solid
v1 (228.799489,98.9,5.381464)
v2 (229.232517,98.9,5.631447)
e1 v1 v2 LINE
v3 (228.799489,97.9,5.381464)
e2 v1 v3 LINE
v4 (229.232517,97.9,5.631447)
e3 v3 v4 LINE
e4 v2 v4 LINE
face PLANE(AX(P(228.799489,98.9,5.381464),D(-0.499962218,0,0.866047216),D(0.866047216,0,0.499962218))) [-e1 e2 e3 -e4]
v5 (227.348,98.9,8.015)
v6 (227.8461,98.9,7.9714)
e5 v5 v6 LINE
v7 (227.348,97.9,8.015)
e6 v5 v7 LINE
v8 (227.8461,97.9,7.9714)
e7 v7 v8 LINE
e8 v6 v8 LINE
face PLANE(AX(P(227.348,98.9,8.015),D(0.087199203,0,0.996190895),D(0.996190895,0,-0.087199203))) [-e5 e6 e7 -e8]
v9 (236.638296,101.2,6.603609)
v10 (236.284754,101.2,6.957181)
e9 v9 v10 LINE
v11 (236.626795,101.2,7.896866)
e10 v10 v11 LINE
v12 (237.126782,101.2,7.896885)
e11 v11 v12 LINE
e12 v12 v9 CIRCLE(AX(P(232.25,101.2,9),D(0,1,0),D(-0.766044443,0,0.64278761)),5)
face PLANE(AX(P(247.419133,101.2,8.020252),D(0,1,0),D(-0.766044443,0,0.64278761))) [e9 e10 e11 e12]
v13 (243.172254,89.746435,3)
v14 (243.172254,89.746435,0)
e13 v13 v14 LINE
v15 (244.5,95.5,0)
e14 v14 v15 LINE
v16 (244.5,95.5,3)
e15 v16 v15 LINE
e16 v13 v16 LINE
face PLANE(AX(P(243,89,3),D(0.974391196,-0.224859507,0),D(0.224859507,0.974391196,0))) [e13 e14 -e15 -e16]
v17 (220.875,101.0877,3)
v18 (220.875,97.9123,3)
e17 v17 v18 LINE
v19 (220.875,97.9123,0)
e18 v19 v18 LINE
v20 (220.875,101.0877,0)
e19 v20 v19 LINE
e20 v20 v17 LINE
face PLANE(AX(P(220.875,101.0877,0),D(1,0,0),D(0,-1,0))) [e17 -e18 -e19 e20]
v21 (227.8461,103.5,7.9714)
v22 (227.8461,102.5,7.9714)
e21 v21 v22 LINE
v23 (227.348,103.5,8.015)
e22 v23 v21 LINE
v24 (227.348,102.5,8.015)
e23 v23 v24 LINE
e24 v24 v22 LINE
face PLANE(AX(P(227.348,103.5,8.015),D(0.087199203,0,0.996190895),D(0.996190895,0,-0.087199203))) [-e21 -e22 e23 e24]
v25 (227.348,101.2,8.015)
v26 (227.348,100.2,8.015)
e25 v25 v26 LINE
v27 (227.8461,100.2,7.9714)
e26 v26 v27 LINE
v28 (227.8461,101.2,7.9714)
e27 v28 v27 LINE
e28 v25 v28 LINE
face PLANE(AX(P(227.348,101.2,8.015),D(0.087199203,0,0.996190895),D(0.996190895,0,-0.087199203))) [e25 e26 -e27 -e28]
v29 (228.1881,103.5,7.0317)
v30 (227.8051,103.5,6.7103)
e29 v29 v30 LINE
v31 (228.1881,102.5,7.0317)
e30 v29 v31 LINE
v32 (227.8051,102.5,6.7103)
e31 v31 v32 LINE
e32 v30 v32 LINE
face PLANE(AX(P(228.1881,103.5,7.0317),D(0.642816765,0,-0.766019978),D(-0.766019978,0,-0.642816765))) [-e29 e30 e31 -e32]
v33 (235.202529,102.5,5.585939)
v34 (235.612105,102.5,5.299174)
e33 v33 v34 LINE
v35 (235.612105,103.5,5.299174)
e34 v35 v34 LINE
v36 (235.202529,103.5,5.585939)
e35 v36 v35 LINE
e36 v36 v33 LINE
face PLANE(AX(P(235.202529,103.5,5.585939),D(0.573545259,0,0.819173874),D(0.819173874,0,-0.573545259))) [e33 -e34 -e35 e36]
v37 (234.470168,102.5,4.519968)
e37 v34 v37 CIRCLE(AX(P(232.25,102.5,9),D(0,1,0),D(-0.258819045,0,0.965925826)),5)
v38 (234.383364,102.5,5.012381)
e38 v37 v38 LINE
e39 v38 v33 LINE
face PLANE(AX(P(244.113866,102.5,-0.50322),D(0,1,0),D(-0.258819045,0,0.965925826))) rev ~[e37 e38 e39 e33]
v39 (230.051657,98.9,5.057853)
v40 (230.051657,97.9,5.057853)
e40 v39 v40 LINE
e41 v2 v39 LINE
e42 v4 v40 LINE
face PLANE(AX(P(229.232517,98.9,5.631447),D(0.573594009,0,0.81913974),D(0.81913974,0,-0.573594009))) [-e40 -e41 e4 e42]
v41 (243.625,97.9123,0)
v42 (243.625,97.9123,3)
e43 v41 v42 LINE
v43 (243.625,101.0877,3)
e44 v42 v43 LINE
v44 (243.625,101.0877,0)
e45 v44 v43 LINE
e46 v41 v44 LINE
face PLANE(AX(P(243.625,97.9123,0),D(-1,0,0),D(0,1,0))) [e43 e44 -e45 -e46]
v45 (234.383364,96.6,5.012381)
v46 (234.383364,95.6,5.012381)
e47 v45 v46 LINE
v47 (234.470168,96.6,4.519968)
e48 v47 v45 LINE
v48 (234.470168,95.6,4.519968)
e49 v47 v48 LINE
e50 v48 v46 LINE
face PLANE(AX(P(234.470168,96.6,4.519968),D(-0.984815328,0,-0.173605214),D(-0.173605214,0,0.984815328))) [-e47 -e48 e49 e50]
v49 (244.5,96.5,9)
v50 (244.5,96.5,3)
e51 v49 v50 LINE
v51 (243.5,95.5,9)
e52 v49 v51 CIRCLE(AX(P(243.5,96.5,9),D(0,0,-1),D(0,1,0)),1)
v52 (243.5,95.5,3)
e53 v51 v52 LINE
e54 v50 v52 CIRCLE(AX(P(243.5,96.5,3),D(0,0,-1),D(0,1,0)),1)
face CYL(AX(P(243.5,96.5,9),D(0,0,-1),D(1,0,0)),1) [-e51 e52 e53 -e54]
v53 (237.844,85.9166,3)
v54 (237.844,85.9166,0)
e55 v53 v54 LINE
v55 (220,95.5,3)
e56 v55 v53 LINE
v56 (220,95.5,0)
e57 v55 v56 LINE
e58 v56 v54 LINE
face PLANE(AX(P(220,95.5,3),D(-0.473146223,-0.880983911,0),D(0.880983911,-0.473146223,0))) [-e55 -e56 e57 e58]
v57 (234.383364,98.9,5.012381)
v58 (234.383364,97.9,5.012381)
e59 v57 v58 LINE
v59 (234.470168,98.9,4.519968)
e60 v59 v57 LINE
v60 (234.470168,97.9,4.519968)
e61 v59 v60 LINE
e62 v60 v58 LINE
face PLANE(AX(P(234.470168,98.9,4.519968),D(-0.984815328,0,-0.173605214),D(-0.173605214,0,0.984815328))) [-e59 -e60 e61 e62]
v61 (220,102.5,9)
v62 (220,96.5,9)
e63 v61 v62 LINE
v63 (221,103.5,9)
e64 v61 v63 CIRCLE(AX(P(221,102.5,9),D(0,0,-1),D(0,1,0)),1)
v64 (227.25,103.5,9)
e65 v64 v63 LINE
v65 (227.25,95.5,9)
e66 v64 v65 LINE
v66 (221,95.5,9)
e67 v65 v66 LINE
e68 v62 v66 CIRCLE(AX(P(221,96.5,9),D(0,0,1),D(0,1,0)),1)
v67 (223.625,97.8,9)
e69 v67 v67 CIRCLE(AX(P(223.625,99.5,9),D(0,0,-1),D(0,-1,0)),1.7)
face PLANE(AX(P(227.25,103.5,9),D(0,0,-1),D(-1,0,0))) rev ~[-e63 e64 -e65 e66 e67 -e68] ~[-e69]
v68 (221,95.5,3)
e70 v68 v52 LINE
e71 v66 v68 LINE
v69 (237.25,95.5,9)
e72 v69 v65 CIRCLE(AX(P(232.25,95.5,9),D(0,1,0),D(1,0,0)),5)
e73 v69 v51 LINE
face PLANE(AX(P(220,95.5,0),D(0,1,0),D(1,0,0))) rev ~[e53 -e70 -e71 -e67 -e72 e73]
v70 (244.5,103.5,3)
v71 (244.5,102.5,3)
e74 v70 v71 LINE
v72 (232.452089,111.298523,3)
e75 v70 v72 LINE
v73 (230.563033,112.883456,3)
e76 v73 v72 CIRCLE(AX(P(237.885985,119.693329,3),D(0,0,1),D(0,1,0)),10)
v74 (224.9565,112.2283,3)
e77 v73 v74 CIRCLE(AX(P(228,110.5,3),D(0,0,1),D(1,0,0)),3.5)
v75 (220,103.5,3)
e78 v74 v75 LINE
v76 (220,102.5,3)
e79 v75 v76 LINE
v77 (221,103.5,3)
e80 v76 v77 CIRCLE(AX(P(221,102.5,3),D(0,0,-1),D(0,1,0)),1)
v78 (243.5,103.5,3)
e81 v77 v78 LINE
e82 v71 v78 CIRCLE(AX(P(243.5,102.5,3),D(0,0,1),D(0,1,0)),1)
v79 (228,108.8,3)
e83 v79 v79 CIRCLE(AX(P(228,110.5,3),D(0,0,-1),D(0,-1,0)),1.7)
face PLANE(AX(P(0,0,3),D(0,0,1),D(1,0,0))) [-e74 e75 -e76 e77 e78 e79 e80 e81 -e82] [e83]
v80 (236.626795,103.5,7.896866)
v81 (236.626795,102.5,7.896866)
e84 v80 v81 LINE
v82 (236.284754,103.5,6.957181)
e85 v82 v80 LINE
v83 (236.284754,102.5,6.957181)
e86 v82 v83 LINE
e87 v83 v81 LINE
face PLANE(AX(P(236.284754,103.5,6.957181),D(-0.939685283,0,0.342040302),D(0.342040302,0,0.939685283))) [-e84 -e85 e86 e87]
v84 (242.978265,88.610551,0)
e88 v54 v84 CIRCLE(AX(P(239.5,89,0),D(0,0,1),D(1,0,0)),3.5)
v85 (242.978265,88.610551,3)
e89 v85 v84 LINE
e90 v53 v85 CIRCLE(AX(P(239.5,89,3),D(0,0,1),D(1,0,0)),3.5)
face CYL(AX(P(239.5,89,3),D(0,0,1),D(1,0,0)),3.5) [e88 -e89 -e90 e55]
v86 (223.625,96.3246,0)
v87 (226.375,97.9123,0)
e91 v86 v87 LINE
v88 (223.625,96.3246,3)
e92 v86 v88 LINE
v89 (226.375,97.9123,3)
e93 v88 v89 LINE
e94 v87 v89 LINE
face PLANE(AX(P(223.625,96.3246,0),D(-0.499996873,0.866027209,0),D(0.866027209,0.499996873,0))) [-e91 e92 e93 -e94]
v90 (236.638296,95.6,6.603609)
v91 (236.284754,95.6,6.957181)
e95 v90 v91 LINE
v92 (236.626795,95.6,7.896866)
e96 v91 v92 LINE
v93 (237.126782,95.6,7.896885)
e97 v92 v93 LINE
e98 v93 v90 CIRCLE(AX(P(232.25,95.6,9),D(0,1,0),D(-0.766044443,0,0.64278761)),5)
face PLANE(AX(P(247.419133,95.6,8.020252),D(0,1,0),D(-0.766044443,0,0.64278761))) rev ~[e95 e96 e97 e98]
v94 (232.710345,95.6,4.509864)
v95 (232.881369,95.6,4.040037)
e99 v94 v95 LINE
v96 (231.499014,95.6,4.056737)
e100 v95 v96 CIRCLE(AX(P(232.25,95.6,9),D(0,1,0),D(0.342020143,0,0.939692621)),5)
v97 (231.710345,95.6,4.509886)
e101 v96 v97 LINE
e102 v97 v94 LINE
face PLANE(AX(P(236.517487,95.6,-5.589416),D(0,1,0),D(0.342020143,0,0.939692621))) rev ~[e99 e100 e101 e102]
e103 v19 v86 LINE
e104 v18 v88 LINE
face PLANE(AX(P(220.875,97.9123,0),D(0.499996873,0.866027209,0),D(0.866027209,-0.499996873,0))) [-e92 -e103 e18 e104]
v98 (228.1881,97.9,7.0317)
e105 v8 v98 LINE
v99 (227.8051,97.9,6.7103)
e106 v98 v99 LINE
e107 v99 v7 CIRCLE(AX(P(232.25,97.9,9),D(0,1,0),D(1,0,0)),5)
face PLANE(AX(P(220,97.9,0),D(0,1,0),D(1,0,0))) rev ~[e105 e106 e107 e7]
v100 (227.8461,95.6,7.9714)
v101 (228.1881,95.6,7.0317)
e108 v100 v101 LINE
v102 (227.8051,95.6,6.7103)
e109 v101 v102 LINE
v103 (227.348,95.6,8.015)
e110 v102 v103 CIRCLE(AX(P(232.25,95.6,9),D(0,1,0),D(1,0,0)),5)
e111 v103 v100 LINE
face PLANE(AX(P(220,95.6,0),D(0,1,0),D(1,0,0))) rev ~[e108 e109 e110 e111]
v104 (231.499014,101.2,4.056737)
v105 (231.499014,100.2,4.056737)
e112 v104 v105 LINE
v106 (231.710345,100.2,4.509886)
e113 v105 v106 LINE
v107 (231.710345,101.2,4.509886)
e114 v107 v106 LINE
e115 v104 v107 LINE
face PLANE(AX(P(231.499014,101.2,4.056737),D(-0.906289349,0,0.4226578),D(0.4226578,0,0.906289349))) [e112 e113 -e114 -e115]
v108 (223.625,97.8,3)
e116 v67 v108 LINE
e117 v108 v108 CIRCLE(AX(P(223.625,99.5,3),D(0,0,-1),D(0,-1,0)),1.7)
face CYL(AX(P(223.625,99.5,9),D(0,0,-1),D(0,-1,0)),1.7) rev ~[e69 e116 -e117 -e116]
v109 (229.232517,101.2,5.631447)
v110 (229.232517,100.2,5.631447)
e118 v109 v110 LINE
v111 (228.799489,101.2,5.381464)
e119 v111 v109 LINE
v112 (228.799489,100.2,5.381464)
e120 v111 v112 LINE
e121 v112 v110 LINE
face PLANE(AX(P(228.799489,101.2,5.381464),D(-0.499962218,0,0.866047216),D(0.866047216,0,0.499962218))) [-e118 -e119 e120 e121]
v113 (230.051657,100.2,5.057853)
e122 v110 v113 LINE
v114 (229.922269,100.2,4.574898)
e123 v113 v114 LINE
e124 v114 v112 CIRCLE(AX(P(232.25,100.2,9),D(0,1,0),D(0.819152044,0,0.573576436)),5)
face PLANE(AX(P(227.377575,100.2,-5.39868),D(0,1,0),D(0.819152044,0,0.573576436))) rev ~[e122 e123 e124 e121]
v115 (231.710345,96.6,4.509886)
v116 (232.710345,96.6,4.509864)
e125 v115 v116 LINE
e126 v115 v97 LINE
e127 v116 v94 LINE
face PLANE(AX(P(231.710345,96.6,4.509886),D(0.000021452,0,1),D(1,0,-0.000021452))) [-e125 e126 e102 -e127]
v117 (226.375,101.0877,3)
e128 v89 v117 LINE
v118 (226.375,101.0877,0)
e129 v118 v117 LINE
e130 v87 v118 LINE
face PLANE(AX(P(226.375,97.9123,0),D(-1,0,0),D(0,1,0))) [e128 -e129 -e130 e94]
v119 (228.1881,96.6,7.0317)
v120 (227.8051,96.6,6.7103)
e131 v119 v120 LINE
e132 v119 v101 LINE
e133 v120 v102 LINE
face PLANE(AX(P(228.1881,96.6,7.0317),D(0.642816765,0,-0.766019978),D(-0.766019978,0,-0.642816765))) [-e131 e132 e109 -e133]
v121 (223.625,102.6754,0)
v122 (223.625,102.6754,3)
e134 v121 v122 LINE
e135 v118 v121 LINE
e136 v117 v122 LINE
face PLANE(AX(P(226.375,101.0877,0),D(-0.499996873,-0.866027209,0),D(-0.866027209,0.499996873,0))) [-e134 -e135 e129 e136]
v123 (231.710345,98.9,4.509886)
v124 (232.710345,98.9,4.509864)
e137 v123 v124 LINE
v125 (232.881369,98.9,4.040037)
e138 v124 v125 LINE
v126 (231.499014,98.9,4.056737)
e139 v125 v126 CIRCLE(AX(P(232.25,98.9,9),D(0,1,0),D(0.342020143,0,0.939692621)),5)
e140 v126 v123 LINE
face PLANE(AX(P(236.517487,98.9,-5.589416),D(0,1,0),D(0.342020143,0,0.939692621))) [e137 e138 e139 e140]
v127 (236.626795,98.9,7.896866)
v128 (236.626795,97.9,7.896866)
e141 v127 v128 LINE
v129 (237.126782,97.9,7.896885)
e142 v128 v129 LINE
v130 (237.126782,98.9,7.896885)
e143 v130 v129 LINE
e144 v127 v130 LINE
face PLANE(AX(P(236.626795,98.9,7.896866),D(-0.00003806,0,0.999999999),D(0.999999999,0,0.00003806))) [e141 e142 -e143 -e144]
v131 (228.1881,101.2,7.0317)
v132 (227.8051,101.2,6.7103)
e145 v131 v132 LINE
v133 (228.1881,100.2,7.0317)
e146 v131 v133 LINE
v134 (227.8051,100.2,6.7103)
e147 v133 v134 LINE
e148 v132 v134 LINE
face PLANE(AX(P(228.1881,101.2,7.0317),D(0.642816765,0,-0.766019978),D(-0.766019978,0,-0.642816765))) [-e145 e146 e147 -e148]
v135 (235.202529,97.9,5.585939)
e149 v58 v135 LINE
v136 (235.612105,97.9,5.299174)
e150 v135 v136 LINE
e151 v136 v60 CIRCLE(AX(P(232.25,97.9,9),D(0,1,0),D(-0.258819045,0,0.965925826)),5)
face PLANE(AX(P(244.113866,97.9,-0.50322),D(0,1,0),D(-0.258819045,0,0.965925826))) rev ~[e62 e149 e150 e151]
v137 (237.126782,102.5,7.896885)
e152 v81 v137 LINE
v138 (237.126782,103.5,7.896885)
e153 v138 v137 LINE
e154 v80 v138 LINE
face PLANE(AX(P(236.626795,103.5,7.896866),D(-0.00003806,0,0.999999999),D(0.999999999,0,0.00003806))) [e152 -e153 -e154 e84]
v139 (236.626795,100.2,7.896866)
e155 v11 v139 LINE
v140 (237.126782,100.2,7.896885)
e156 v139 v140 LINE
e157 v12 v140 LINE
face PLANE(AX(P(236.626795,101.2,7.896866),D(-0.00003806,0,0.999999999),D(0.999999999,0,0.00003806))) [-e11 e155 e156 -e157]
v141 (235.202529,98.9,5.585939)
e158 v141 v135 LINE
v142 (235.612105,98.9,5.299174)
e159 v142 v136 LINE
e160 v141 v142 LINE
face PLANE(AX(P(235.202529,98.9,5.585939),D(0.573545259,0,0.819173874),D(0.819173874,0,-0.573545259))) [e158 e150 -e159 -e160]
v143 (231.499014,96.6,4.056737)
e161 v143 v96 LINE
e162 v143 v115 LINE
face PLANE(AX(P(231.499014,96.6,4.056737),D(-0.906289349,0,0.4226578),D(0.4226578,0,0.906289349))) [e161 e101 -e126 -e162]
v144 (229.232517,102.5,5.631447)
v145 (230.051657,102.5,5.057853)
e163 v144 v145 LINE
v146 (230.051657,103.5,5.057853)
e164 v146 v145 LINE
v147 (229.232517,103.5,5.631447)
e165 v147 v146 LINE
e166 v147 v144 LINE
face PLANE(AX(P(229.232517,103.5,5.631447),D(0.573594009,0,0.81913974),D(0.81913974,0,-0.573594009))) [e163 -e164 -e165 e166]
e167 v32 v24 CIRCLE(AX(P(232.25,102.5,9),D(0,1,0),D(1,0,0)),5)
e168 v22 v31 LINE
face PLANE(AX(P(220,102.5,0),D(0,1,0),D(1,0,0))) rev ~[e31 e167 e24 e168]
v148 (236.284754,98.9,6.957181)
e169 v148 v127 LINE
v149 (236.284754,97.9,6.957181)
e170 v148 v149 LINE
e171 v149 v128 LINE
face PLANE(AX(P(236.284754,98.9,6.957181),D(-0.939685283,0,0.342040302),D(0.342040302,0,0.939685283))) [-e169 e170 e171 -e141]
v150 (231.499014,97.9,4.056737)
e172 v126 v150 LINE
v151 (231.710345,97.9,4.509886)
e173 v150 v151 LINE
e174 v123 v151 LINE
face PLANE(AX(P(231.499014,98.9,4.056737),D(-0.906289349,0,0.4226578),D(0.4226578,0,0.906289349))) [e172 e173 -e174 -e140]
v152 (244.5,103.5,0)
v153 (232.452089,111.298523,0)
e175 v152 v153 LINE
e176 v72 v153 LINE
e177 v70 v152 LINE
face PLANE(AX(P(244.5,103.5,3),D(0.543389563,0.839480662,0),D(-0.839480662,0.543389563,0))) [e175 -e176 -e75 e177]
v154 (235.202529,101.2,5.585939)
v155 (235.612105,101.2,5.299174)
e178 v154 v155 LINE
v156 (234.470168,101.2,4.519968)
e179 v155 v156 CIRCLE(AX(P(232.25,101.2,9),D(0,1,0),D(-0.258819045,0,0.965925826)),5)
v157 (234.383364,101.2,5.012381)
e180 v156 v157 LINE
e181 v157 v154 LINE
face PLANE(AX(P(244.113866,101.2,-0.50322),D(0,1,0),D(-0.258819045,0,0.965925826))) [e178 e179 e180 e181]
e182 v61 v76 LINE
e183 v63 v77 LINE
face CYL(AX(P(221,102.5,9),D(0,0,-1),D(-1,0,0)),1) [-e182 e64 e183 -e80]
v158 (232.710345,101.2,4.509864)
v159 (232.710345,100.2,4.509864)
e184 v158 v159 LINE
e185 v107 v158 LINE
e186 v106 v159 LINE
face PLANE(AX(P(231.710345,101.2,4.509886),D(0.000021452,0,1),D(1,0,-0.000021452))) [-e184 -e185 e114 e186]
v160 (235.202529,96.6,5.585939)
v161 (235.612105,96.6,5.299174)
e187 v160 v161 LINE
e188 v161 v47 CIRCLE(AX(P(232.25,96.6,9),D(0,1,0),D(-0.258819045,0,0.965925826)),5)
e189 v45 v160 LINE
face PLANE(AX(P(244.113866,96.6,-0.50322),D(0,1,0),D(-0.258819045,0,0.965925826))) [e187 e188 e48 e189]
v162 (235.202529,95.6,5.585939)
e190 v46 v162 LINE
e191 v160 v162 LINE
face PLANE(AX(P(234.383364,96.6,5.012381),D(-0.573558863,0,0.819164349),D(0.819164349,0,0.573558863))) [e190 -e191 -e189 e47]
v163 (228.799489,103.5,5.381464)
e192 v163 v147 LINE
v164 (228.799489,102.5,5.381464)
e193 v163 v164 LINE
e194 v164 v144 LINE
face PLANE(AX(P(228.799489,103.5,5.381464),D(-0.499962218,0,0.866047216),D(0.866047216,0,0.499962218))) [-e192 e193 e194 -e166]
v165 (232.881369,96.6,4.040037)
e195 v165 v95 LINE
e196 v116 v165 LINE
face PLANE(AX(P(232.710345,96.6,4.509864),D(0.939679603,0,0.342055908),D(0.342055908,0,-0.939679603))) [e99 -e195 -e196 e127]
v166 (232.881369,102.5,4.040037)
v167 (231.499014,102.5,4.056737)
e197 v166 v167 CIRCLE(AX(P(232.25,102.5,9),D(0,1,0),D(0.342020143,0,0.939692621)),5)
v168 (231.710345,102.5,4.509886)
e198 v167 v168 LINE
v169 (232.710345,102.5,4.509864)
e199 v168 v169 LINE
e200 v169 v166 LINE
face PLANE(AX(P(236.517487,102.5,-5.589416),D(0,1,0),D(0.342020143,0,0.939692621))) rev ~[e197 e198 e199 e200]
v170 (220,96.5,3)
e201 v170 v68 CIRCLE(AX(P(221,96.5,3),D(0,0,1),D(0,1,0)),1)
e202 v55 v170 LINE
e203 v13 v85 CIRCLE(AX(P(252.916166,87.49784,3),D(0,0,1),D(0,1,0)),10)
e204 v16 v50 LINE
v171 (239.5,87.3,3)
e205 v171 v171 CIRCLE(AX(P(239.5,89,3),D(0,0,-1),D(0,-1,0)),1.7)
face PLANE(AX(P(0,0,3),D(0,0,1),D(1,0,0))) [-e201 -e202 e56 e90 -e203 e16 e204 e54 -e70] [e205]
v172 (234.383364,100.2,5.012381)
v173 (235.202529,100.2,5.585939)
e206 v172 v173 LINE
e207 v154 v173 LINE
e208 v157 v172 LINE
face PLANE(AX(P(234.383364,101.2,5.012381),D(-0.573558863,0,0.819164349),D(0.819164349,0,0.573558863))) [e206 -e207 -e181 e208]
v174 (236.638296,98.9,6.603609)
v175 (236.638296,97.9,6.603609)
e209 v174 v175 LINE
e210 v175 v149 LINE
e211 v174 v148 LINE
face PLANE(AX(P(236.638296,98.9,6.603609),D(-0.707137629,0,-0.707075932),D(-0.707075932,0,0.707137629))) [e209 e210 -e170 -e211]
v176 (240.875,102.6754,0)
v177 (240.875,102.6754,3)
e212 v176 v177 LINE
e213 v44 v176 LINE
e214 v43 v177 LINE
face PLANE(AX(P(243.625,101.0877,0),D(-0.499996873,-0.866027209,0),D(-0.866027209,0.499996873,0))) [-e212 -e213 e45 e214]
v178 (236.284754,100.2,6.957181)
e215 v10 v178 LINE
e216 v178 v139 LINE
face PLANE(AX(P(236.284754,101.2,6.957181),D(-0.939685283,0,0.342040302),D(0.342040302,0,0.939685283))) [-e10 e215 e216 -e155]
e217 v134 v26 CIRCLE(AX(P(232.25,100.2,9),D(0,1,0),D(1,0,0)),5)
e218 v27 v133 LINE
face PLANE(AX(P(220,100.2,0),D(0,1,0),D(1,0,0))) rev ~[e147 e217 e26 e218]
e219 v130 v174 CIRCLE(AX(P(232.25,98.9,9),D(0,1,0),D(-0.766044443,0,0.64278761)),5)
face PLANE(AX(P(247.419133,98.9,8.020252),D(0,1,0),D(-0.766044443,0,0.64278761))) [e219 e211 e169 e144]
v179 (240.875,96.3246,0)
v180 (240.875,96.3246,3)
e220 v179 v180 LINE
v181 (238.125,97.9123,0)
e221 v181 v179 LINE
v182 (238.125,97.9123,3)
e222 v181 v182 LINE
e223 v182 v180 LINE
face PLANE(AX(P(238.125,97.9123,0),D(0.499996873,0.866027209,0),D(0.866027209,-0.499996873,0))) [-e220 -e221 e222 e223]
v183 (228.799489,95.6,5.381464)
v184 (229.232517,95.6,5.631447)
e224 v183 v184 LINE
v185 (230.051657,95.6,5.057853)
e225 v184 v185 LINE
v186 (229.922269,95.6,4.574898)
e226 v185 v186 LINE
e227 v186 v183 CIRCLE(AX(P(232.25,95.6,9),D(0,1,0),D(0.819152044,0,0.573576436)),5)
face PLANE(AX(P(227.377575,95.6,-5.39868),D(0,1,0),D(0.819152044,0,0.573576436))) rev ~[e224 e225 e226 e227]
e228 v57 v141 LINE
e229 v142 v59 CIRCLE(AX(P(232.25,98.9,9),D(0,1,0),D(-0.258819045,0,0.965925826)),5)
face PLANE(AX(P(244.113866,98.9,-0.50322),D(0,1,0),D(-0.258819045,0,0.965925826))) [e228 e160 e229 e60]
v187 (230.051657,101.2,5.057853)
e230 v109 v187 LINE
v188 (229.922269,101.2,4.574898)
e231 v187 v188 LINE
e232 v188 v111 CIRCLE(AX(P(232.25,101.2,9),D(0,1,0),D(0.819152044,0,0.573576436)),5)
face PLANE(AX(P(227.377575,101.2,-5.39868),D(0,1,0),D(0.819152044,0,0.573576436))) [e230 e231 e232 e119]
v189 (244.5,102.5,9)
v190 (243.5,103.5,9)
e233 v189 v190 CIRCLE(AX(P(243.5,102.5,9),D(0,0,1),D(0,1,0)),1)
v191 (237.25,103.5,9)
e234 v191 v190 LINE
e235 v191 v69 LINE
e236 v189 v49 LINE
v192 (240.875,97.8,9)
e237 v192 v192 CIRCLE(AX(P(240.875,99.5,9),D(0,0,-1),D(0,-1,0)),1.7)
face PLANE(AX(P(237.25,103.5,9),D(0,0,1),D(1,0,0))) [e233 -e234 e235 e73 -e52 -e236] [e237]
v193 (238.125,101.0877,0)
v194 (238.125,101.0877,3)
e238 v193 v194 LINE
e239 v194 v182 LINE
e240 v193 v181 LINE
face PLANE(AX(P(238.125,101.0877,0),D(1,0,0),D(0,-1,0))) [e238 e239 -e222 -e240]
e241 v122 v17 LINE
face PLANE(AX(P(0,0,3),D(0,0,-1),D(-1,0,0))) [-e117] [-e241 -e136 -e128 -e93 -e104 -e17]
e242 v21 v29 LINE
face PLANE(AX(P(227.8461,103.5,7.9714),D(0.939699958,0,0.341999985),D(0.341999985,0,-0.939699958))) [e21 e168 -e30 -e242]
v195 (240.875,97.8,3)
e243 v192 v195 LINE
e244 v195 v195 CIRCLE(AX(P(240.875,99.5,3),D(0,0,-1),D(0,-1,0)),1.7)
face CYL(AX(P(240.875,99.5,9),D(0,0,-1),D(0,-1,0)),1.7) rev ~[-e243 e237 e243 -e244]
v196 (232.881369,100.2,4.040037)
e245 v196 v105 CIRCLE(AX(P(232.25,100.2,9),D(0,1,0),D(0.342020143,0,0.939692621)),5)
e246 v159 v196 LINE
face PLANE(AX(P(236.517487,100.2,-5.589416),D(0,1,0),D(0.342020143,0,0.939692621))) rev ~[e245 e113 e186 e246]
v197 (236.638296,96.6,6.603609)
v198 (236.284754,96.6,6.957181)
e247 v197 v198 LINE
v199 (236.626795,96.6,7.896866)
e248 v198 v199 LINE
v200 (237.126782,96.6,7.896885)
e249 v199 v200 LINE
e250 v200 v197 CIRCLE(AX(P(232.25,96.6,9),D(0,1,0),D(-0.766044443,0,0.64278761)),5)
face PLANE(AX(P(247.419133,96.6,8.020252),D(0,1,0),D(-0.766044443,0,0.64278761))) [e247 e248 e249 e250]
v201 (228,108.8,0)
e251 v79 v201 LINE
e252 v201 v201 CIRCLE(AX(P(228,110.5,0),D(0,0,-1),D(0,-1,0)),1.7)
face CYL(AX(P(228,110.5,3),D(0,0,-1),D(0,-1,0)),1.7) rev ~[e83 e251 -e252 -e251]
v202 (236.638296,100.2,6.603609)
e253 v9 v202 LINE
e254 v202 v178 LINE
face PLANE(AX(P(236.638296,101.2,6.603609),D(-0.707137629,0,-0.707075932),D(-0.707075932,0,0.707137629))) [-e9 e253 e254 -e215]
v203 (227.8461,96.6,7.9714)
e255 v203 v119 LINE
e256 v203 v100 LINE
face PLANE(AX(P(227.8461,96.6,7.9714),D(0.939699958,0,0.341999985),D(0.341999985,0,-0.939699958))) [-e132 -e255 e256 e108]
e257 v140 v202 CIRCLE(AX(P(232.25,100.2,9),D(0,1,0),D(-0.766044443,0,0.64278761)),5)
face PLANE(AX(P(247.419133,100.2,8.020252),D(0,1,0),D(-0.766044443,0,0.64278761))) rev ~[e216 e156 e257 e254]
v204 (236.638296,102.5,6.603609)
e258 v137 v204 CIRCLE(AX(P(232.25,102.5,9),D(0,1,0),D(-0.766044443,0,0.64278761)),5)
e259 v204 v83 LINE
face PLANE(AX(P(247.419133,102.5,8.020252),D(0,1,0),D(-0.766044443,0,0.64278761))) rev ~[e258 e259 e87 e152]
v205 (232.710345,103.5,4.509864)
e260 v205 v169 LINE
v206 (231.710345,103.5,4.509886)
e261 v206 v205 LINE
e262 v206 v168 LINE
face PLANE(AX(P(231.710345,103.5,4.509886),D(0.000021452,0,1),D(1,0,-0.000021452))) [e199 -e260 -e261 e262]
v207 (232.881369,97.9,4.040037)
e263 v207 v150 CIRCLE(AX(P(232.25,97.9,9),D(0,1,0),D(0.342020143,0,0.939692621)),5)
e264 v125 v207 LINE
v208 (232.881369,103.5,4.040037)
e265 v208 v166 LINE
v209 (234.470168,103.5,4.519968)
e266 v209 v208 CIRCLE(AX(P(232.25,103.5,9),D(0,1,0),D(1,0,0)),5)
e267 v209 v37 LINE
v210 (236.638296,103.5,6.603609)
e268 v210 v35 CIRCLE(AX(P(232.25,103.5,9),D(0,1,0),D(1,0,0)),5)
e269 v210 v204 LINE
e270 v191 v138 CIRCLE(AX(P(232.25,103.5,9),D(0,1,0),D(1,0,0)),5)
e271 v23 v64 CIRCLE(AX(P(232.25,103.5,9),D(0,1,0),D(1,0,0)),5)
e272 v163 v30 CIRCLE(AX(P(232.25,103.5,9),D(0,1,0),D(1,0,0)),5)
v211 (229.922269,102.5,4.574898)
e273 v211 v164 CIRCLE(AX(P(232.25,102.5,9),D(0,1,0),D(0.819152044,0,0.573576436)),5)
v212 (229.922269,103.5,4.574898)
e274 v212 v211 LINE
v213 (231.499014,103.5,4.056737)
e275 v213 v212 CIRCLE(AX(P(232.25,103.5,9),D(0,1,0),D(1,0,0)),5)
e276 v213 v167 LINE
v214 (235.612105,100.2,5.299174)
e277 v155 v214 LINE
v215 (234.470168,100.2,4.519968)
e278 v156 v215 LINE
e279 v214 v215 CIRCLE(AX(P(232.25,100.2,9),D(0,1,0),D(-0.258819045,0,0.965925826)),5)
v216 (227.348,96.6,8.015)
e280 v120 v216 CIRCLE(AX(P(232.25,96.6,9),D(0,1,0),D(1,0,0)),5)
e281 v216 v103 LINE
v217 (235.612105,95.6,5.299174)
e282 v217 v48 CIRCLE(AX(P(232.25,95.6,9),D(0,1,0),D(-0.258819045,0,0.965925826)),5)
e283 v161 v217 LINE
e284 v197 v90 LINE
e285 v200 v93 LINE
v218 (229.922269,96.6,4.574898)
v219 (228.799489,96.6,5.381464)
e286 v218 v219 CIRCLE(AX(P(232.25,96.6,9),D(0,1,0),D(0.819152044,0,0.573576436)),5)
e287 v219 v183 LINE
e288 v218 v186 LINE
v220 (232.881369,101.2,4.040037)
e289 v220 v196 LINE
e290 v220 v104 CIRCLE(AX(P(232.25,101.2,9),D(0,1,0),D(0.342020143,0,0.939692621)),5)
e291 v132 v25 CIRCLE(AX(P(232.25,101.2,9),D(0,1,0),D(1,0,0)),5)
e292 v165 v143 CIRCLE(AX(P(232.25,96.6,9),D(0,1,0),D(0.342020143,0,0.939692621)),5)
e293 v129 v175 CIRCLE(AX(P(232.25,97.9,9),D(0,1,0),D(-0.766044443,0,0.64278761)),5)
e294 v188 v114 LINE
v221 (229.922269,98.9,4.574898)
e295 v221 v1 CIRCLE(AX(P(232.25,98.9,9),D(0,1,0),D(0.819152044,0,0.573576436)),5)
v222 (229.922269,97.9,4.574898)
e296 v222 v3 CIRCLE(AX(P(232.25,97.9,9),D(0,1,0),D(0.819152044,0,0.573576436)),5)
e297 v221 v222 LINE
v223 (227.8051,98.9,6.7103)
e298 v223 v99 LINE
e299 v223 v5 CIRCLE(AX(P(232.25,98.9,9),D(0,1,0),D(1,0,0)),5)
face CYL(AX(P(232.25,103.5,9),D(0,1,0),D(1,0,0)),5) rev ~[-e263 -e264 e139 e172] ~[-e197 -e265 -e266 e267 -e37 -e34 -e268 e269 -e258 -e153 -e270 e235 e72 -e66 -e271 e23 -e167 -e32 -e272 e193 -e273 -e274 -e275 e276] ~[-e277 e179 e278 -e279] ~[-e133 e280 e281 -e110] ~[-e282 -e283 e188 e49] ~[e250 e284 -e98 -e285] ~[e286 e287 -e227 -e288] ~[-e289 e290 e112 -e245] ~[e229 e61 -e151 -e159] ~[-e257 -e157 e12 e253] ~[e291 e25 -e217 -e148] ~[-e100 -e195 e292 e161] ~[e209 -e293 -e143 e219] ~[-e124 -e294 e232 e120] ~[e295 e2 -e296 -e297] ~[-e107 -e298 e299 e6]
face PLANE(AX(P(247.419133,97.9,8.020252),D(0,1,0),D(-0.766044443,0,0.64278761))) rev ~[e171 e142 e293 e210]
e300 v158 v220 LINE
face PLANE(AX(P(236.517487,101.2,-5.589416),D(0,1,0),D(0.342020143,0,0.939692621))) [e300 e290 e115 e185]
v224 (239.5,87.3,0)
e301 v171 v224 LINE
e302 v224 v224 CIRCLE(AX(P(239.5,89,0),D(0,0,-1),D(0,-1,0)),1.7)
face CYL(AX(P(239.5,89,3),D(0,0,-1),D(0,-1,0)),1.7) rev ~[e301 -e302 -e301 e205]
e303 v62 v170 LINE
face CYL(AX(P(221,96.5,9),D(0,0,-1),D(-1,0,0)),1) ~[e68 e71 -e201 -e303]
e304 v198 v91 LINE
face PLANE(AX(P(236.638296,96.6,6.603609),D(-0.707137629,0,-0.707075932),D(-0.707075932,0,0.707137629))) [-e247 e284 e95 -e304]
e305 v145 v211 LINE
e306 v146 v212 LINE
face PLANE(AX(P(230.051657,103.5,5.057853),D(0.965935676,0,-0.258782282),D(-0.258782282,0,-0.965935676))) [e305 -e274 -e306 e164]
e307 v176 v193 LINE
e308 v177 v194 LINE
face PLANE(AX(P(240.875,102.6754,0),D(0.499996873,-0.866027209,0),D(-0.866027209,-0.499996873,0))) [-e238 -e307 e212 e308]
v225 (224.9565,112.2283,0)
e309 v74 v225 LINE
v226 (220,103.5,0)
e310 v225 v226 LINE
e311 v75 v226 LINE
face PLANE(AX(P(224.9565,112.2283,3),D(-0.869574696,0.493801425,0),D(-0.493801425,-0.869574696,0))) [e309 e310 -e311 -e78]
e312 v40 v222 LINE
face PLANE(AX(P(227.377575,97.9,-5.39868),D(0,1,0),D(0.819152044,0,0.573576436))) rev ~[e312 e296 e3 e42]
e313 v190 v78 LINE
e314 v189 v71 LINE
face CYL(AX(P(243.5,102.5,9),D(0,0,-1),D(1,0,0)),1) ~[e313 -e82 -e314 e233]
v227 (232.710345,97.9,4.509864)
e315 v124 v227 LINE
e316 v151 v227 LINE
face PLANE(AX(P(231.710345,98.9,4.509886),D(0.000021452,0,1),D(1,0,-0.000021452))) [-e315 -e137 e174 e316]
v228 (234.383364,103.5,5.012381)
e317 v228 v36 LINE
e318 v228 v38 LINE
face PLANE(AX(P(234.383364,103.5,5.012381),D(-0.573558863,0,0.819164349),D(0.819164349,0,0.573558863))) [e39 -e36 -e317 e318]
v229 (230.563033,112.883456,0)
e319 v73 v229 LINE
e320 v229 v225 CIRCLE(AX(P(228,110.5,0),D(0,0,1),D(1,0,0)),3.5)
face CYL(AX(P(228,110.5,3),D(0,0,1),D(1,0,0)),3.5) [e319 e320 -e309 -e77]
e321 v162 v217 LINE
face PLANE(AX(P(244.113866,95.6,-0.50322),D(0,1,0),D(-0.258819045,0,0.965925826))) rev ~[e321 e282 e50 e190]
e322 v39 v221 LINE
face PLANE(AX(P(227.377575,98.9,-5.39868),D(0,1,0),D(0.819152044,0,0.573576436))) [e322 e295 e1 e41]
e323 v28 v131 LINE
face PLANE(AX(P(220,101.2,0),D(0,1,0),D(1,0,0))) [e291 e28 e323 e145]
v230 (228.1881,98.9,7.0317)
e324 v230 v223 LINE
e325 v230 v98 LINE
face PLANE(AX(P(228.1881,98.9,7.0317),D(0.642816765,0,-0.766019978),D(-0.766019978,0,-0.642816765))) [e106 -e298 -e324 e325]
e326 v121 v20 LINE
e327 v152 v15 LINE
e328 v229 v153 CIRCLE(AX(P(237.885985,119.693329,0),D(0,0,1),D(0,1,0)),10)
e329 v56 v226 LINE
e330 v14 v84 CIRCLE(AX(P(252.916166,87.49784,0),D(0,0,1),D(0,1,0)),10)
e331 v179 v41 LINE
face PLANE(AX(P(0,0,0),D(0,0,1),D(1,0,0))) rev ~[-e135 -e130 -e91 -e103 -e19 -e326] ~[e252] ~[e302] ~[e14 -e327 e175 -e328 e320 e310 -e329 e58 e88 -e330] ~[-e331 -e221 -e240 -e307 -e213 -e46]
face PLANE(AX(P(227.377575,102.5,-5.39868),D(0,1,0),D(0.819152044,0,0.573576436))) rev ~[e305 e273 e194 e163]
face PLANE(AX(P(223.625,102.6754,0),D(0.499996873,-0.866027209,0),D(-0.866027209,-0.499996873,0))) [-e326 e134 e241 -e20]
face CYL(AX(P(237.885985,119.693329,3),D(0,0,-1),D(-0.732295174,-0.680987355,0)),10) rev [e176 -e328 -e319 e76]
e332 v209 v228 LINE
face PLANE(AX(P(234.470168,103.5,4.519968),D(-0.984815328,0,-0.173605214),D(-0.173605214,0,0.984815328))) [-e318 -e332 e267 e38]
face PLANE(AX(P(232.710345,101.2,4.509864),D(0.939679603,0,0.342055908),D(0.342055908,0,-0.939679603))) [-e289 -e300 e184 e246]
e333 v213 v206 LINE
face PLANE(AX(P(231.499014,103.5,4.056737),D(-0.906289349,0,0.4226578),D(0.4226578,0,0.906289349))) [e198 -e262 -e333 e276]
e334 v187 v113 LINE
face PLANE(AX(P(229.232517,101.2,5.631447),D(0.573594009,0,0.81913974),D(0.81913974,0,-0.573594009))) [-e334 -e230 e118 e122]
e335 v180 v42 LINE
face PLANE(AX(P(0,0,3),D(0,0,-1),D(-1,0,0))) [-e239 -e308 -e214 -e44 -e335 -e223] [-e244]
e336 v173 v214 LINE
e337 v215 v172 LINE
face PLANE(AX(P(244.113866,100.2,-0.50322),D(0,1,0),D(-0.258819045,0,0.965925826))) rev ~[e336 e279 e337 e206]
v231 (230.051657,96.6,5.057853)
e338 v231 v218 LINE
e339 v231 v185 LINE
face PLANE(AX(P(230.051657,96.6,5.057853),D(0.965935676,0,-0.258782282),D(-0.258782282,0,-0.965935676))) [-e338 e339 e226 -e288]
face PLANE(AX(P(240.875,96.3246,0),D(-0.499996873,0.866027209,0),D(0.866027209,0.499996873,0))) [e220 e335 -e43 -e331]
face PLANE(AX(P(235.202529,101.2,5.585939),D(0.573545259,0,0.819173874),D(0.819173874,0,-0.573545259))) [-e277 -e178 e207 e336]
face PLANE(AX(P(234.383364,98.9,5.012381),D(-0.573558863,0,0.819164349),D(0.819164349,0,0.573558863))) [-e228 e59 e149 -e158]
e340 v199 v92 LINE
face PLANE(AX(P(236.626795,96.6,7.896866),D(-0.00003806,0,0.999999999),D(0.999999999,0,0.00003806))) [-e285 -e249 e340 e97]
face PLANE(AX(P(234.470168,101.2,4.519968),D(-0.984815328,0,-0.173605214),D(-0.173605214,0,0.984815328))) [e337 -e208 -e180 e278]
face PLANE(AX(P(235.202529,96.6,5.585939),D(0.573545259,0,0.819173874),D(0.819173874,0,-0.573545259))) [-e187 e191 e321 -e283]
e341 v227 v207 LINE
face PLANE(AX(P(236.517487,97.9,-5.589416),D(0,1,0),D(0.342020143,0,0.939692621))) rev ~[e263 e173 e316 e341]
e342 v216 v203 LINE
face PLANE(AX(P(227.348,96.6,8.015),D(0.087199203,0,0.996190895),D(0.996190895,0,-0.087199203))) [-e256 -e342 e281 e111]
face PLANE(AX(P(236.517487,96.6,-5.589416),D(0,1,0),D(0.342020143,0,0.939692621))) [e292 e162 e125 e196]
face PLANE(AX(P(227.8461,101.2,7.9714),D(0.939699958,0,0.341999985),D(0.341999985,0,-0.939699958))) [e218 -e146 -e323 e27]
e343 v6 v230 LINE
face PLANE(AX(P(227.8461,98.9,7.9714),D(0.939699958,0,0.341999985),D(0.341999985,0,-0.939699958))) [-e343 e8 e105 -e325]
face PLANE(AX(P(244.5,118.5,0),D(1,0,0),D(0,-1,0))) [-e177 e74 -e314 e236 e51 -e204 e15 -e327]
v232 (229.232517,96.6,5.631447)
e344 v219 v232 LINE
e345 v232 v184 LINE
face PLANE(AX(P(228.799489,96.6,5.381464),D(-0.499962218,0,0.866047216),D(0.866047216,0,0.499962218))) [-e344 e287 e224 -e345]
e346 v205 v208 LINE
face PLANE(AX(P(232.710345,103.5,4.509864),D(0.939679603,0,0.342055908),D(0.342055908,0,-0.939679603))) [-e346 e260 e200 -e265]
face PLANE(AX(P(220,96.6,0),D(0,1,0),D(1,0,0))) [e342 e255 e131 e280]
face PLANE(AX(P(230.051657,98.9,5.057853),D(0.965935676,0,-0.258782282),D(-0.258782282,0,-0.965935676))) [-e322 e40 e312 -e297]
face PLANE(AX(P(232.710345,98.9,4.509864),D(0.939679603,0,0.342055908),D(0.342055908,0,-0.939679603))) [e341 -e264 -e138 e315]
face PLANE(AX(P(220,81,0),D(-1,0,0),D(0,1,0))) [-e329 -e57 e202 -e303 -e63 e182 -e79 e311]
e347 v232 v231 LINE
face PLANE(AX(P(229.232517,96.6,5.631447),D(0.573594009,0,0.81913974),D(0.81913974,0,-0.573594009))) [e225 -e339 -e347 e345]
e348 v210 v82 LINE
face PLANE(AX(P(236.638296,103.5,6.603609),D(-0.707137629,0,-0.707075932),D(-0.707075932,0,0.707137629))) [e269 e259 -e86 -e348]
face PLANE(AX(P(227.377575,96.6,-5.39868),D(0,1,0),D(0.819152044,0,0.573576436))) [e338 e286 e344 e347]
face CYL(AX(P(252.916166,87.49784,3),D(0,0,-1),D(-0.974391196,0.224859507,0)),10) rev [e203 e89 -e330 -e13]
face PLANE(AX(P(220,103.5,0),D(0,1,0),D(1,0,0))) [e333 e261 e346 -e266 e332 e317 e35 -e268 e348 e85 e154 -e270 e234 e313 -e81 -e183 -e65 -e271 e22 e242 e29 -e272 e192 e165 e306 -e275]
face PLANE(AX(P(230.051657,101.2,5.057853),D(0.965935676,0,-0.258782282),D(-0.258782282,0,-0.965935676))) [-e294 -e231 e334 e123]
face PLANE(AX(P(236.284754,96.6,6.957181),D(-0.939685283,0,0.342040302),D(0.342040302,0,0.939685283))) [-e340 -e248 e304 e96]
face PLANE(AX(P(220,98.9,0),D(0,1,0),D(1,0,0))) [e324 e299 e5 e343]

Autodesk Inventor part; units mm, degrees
ref_plane "YZ Plane" through (0, 0, 0) normal (1, 0, 0) x (0, 1, 0)
ref_plane "XZ Plane" through (0, 0, 0) normal (0, 1, 0) x (-1, 0, 0)
ref_plane "XY Plane" through (0, 0, 0) normal (0, 0, 1) x (1, 0, 0)
ref_plane "Work Plane1" through (0, 0, 0) normal (0, 0, 1) x (1, 0, 0)
sketch "Sketch1" plane through (0, 0, 0) normal (0, 0, 1) x (1, 0, 0)
  circle A0 centre (228, 110.5) radius 1.1 construction
  circle A1 centre (239.5, 89) radius 1.1 construction
  line L0 (220, 118.5) -> (244.5, 118.5)
  line L1 (244.5, 118.5) -> (244.5, 81)
  line L2 (244.5, 81) -> (220, 81)
  line L3 (220, 81) -> (220, 118.5)
  point P0 (0, 0)
  dimension "d0" = 5
  dimension "d1" = 8
  dimension "d2" = 8
  dimension "d3" = 8
extrude "Extrusion1" add sketch "Sketch1" along normal blind 3
sketch "Sketch2" plane through (0, 0, 3) normal (0, 0, 1) x (1, 0, 0)
  circle A0 centre (228, 110.5) radius 1.1 projected
  circle A1 centre (239.5, 89) radius 1.1 projected
  point P0 (0, 0)
hole "Hole1" at (228, 110.5, 3) at (239.5, 89, 3) direction (0, 0, -1) diameter 3.4 end through all clearance for "Socket Head Cap Screw" size "M3" standard "Ansi Metric M Profile"
ref_plane "Work Plane2" through (220, 103.5, 0) normal (0, 1, 0) x (1, 0, 0)
sketch "Sketch3" plane through (220, 103.5, 0) normal (0, 1, 0) x (1, 0, 0)
  line L0 (0, -3) -> (24.5, -3) projected
  line L1 (12.25, -3) -> (12.25, -35.3077) construction
  circle A0 centre (12.25, -9) radius 5
  line L2 (24.5, -9) -> (24.5, -3)
  line L3 (7.25, -9) -> (0, -9)
  line L4 (0, -9) -> (0, -3)
  line L5 (0, -9) -> (24.5, -9)
  point P0 (-220, 0)
  point P1 (17.25, -9)
  dimension "d14" = 10
  dimension "d15" = 6
  dimension "d18" = 6
extrude "Extrusion2" add sketch "Sketch3" against normal blind 8 contours L0 L2 L5 A0 L3 L4
sketch "Sketch4" plane through (237.25, 103.5, 9) normal (0, 0, 1) x (1, 0, 0)
  line L0 (-17.25, 0) -> (-10, 0) projected
  line L1 (-17.25, 0) -> (-17.25, -8) projected
  line L2 (-10, -8) -> (-17.25, -8) projected
  line L3 (-10, 0) -> (-10, -8) projected
  line L4 (0, 0) -> (7.25, 0) projected
  line L5 (0, 0) -> (0, -8) projected
  line L6 (7.25, -8) -> (0, -8) projected
  line L7 (7.25, 0) -> (7.25, -8) projected
  point P0 (-237.25, -103.5)
  point P1 (-13.625, -4)
  point P2 (3.625, -4)
hole "Hole2" at (223.625, 99.5, 9) at (240.875, 99.5, 9) direction (0, 0, -1) diameter 3.4 end through all clearance for "Socket Head Cap Screw" size "M3" standard "Ansi Metric M Profile"
sketch "Sketch5" plane through (0, 0, 0) normal (0, 0, -1) x (-1, 0, 0)
  circle A0 centre (-240.875, 99.5) radius 1.7 projected
  circle A1 centre (-223.625, 99.5) radius 1.7 projected
  line L0 (-243.625, 101.0877) -> (-240.875, 102.6754)
  line L1 (-240.875, 102.6754) -> (-238.125, 101.0877)
  line L2 (-238.125, 101.0877) -> (-238.125, 97.9123)
  line L3 (-238.125, 97.9123) -> (-240.875, 96.3246)
  line L4 (-240.875, 96.3246) -> (-243.625, 97.9123)
  line L5 (-243.625, 97.9123) -> (-243.625, 101.0877)
  line L6 (-226.375, 101.0877) -> (-223.625, 102.6754)
  line L7 (-223.625, 102.6754) -> (-220.875, 101.0877)
  line L8 (-220.875, 101.0877) -> (-220.875, 97.9123)
  line L9 (-220.875, 97.9123) -> (-223.625, 96.3246)
  line L10 (-223.625, 96.3246) -> (-226.375, 97.9123)
  line L11 (-226.375, 97.9123) -> (-226.375, 101.0877)
  point P0 (0, 0)
  dimension "d28" = 5.5
  dimension "d29" = 5.5
extrude "Extrusion3" cut sketch "Sketch5" against normal blind 3
sketch "Sketch6" plane through (220, 103.5, 0) normal (0, 1, 0) x (1, 0, 0)
  line L0 (0, -3) -> (0, -9) projected
  line L1 (0, -9) -> (7.25, -9) projected
  arc A0 (17.25, -9) -> (7.25, -9) centre (12.25, -9) ccw projected
  line L2 (17.25, -9) -> (24.5, -9) projected
  line L3 (24.5, -9) -> (24.5, -3) projected
  line L4 (0, -3) -> (24.5, -3) projected
  line L5 (7.348, -8.015) -> (7.8461, -7.9714)
  line L6 (7.8461, -7.9714) -> (8.1881, -7.0317)
  line L7 (8.1881, -7.0317) -> (7.8051, -6.7103)
  point P0 (-220, 0)
  dimension "d32" = 5
  dimension "d33" = 45
  dimension "d34" = 115
  dimension "d35" = 1
  dimension "d36" = 0.5
  dimension "d37" = 0.5
extrude "Extrusion4" add sketch "Sketch6" against normal blind 1 contours A0 L7 L6 L5
pattern_circular "Circular Pattern1" count 5 over 140 about axis through (232.25, 103.5, 9) along (0, -1, 0) of "Extrusion4"
pattern_linear "Rectangular Pattern1" count 4 spacing 2.3 along (0, -1, 0) of "Extrusion4", "Circular Pattern1"
sketch "Sketch7" plane through (0, 0, 3) normal (0, 0, 1) x (1, 0, 0)
  line L0 (220, 103.5) -> (244.5, 103.5) projected
  line L1 (244.5, 103.5) -> (244.5, 118.5) projected
  line L2 (244.5, 118.5) -> (220, 118.5) projected
  line L3 (220, 118.5) -> (220, 103.5) projected
  circle A0 centre (228, 110.5) radius 1.7 projected
  circle A1 centre (239.5, 89) radius 1.7 projected
  line L4 (244.5, 95.5) -> (220, 95.5) projected
  line L5 (220, 95.5) -> (220, 81) projected
  line L6 (220, 81) -> (244.5, 81) projected
  line L7 (244.5, 81) -> (244.5, 95.5) projected
  circle A2 centre (228, 110.5) radius 1.7 projected
  circle A3 centre (228, 110.5) radius 3.5
  circle A4 centre (239.5, 89) radius 3.5
  line L8 (220, 118.5) -> (220, 103.5) projected
  line L9 (244.5, 103.5) -> (231.0594, 112.2)
  line L10 (224.9565, 112.2283) -> (220, 103.5)
  line L11 (244.5, 95.5) -> (220, 95.5) projected
  line L12 (220, 95.5) -> (237.844, 85.9166)
  line L13 (243, 89) -> (244.5, 95.5)
  point P0 (0, 0)
  dimension "d46" = 7
  dimension "d47" = 7
extrude "Extrusion5" cut sketch "Sketch7" against normal through all contours L3 L2 L1 L9 A3 L10 | L7 L6 L5 L12 A4 L13
fillet "Fillet1" radius 10 2 edges at (231.0594, 112.2, 1.5) (243, 89, 1.5)
fillet "Fillet2" radius 1 4 edges at (244.5, 103.5, 6) (244.5, 95.5, 6) (220, 95.5, 6) (220, 103.5, 6)
properties part number "Extruder-Motherboard Cable Harness"
